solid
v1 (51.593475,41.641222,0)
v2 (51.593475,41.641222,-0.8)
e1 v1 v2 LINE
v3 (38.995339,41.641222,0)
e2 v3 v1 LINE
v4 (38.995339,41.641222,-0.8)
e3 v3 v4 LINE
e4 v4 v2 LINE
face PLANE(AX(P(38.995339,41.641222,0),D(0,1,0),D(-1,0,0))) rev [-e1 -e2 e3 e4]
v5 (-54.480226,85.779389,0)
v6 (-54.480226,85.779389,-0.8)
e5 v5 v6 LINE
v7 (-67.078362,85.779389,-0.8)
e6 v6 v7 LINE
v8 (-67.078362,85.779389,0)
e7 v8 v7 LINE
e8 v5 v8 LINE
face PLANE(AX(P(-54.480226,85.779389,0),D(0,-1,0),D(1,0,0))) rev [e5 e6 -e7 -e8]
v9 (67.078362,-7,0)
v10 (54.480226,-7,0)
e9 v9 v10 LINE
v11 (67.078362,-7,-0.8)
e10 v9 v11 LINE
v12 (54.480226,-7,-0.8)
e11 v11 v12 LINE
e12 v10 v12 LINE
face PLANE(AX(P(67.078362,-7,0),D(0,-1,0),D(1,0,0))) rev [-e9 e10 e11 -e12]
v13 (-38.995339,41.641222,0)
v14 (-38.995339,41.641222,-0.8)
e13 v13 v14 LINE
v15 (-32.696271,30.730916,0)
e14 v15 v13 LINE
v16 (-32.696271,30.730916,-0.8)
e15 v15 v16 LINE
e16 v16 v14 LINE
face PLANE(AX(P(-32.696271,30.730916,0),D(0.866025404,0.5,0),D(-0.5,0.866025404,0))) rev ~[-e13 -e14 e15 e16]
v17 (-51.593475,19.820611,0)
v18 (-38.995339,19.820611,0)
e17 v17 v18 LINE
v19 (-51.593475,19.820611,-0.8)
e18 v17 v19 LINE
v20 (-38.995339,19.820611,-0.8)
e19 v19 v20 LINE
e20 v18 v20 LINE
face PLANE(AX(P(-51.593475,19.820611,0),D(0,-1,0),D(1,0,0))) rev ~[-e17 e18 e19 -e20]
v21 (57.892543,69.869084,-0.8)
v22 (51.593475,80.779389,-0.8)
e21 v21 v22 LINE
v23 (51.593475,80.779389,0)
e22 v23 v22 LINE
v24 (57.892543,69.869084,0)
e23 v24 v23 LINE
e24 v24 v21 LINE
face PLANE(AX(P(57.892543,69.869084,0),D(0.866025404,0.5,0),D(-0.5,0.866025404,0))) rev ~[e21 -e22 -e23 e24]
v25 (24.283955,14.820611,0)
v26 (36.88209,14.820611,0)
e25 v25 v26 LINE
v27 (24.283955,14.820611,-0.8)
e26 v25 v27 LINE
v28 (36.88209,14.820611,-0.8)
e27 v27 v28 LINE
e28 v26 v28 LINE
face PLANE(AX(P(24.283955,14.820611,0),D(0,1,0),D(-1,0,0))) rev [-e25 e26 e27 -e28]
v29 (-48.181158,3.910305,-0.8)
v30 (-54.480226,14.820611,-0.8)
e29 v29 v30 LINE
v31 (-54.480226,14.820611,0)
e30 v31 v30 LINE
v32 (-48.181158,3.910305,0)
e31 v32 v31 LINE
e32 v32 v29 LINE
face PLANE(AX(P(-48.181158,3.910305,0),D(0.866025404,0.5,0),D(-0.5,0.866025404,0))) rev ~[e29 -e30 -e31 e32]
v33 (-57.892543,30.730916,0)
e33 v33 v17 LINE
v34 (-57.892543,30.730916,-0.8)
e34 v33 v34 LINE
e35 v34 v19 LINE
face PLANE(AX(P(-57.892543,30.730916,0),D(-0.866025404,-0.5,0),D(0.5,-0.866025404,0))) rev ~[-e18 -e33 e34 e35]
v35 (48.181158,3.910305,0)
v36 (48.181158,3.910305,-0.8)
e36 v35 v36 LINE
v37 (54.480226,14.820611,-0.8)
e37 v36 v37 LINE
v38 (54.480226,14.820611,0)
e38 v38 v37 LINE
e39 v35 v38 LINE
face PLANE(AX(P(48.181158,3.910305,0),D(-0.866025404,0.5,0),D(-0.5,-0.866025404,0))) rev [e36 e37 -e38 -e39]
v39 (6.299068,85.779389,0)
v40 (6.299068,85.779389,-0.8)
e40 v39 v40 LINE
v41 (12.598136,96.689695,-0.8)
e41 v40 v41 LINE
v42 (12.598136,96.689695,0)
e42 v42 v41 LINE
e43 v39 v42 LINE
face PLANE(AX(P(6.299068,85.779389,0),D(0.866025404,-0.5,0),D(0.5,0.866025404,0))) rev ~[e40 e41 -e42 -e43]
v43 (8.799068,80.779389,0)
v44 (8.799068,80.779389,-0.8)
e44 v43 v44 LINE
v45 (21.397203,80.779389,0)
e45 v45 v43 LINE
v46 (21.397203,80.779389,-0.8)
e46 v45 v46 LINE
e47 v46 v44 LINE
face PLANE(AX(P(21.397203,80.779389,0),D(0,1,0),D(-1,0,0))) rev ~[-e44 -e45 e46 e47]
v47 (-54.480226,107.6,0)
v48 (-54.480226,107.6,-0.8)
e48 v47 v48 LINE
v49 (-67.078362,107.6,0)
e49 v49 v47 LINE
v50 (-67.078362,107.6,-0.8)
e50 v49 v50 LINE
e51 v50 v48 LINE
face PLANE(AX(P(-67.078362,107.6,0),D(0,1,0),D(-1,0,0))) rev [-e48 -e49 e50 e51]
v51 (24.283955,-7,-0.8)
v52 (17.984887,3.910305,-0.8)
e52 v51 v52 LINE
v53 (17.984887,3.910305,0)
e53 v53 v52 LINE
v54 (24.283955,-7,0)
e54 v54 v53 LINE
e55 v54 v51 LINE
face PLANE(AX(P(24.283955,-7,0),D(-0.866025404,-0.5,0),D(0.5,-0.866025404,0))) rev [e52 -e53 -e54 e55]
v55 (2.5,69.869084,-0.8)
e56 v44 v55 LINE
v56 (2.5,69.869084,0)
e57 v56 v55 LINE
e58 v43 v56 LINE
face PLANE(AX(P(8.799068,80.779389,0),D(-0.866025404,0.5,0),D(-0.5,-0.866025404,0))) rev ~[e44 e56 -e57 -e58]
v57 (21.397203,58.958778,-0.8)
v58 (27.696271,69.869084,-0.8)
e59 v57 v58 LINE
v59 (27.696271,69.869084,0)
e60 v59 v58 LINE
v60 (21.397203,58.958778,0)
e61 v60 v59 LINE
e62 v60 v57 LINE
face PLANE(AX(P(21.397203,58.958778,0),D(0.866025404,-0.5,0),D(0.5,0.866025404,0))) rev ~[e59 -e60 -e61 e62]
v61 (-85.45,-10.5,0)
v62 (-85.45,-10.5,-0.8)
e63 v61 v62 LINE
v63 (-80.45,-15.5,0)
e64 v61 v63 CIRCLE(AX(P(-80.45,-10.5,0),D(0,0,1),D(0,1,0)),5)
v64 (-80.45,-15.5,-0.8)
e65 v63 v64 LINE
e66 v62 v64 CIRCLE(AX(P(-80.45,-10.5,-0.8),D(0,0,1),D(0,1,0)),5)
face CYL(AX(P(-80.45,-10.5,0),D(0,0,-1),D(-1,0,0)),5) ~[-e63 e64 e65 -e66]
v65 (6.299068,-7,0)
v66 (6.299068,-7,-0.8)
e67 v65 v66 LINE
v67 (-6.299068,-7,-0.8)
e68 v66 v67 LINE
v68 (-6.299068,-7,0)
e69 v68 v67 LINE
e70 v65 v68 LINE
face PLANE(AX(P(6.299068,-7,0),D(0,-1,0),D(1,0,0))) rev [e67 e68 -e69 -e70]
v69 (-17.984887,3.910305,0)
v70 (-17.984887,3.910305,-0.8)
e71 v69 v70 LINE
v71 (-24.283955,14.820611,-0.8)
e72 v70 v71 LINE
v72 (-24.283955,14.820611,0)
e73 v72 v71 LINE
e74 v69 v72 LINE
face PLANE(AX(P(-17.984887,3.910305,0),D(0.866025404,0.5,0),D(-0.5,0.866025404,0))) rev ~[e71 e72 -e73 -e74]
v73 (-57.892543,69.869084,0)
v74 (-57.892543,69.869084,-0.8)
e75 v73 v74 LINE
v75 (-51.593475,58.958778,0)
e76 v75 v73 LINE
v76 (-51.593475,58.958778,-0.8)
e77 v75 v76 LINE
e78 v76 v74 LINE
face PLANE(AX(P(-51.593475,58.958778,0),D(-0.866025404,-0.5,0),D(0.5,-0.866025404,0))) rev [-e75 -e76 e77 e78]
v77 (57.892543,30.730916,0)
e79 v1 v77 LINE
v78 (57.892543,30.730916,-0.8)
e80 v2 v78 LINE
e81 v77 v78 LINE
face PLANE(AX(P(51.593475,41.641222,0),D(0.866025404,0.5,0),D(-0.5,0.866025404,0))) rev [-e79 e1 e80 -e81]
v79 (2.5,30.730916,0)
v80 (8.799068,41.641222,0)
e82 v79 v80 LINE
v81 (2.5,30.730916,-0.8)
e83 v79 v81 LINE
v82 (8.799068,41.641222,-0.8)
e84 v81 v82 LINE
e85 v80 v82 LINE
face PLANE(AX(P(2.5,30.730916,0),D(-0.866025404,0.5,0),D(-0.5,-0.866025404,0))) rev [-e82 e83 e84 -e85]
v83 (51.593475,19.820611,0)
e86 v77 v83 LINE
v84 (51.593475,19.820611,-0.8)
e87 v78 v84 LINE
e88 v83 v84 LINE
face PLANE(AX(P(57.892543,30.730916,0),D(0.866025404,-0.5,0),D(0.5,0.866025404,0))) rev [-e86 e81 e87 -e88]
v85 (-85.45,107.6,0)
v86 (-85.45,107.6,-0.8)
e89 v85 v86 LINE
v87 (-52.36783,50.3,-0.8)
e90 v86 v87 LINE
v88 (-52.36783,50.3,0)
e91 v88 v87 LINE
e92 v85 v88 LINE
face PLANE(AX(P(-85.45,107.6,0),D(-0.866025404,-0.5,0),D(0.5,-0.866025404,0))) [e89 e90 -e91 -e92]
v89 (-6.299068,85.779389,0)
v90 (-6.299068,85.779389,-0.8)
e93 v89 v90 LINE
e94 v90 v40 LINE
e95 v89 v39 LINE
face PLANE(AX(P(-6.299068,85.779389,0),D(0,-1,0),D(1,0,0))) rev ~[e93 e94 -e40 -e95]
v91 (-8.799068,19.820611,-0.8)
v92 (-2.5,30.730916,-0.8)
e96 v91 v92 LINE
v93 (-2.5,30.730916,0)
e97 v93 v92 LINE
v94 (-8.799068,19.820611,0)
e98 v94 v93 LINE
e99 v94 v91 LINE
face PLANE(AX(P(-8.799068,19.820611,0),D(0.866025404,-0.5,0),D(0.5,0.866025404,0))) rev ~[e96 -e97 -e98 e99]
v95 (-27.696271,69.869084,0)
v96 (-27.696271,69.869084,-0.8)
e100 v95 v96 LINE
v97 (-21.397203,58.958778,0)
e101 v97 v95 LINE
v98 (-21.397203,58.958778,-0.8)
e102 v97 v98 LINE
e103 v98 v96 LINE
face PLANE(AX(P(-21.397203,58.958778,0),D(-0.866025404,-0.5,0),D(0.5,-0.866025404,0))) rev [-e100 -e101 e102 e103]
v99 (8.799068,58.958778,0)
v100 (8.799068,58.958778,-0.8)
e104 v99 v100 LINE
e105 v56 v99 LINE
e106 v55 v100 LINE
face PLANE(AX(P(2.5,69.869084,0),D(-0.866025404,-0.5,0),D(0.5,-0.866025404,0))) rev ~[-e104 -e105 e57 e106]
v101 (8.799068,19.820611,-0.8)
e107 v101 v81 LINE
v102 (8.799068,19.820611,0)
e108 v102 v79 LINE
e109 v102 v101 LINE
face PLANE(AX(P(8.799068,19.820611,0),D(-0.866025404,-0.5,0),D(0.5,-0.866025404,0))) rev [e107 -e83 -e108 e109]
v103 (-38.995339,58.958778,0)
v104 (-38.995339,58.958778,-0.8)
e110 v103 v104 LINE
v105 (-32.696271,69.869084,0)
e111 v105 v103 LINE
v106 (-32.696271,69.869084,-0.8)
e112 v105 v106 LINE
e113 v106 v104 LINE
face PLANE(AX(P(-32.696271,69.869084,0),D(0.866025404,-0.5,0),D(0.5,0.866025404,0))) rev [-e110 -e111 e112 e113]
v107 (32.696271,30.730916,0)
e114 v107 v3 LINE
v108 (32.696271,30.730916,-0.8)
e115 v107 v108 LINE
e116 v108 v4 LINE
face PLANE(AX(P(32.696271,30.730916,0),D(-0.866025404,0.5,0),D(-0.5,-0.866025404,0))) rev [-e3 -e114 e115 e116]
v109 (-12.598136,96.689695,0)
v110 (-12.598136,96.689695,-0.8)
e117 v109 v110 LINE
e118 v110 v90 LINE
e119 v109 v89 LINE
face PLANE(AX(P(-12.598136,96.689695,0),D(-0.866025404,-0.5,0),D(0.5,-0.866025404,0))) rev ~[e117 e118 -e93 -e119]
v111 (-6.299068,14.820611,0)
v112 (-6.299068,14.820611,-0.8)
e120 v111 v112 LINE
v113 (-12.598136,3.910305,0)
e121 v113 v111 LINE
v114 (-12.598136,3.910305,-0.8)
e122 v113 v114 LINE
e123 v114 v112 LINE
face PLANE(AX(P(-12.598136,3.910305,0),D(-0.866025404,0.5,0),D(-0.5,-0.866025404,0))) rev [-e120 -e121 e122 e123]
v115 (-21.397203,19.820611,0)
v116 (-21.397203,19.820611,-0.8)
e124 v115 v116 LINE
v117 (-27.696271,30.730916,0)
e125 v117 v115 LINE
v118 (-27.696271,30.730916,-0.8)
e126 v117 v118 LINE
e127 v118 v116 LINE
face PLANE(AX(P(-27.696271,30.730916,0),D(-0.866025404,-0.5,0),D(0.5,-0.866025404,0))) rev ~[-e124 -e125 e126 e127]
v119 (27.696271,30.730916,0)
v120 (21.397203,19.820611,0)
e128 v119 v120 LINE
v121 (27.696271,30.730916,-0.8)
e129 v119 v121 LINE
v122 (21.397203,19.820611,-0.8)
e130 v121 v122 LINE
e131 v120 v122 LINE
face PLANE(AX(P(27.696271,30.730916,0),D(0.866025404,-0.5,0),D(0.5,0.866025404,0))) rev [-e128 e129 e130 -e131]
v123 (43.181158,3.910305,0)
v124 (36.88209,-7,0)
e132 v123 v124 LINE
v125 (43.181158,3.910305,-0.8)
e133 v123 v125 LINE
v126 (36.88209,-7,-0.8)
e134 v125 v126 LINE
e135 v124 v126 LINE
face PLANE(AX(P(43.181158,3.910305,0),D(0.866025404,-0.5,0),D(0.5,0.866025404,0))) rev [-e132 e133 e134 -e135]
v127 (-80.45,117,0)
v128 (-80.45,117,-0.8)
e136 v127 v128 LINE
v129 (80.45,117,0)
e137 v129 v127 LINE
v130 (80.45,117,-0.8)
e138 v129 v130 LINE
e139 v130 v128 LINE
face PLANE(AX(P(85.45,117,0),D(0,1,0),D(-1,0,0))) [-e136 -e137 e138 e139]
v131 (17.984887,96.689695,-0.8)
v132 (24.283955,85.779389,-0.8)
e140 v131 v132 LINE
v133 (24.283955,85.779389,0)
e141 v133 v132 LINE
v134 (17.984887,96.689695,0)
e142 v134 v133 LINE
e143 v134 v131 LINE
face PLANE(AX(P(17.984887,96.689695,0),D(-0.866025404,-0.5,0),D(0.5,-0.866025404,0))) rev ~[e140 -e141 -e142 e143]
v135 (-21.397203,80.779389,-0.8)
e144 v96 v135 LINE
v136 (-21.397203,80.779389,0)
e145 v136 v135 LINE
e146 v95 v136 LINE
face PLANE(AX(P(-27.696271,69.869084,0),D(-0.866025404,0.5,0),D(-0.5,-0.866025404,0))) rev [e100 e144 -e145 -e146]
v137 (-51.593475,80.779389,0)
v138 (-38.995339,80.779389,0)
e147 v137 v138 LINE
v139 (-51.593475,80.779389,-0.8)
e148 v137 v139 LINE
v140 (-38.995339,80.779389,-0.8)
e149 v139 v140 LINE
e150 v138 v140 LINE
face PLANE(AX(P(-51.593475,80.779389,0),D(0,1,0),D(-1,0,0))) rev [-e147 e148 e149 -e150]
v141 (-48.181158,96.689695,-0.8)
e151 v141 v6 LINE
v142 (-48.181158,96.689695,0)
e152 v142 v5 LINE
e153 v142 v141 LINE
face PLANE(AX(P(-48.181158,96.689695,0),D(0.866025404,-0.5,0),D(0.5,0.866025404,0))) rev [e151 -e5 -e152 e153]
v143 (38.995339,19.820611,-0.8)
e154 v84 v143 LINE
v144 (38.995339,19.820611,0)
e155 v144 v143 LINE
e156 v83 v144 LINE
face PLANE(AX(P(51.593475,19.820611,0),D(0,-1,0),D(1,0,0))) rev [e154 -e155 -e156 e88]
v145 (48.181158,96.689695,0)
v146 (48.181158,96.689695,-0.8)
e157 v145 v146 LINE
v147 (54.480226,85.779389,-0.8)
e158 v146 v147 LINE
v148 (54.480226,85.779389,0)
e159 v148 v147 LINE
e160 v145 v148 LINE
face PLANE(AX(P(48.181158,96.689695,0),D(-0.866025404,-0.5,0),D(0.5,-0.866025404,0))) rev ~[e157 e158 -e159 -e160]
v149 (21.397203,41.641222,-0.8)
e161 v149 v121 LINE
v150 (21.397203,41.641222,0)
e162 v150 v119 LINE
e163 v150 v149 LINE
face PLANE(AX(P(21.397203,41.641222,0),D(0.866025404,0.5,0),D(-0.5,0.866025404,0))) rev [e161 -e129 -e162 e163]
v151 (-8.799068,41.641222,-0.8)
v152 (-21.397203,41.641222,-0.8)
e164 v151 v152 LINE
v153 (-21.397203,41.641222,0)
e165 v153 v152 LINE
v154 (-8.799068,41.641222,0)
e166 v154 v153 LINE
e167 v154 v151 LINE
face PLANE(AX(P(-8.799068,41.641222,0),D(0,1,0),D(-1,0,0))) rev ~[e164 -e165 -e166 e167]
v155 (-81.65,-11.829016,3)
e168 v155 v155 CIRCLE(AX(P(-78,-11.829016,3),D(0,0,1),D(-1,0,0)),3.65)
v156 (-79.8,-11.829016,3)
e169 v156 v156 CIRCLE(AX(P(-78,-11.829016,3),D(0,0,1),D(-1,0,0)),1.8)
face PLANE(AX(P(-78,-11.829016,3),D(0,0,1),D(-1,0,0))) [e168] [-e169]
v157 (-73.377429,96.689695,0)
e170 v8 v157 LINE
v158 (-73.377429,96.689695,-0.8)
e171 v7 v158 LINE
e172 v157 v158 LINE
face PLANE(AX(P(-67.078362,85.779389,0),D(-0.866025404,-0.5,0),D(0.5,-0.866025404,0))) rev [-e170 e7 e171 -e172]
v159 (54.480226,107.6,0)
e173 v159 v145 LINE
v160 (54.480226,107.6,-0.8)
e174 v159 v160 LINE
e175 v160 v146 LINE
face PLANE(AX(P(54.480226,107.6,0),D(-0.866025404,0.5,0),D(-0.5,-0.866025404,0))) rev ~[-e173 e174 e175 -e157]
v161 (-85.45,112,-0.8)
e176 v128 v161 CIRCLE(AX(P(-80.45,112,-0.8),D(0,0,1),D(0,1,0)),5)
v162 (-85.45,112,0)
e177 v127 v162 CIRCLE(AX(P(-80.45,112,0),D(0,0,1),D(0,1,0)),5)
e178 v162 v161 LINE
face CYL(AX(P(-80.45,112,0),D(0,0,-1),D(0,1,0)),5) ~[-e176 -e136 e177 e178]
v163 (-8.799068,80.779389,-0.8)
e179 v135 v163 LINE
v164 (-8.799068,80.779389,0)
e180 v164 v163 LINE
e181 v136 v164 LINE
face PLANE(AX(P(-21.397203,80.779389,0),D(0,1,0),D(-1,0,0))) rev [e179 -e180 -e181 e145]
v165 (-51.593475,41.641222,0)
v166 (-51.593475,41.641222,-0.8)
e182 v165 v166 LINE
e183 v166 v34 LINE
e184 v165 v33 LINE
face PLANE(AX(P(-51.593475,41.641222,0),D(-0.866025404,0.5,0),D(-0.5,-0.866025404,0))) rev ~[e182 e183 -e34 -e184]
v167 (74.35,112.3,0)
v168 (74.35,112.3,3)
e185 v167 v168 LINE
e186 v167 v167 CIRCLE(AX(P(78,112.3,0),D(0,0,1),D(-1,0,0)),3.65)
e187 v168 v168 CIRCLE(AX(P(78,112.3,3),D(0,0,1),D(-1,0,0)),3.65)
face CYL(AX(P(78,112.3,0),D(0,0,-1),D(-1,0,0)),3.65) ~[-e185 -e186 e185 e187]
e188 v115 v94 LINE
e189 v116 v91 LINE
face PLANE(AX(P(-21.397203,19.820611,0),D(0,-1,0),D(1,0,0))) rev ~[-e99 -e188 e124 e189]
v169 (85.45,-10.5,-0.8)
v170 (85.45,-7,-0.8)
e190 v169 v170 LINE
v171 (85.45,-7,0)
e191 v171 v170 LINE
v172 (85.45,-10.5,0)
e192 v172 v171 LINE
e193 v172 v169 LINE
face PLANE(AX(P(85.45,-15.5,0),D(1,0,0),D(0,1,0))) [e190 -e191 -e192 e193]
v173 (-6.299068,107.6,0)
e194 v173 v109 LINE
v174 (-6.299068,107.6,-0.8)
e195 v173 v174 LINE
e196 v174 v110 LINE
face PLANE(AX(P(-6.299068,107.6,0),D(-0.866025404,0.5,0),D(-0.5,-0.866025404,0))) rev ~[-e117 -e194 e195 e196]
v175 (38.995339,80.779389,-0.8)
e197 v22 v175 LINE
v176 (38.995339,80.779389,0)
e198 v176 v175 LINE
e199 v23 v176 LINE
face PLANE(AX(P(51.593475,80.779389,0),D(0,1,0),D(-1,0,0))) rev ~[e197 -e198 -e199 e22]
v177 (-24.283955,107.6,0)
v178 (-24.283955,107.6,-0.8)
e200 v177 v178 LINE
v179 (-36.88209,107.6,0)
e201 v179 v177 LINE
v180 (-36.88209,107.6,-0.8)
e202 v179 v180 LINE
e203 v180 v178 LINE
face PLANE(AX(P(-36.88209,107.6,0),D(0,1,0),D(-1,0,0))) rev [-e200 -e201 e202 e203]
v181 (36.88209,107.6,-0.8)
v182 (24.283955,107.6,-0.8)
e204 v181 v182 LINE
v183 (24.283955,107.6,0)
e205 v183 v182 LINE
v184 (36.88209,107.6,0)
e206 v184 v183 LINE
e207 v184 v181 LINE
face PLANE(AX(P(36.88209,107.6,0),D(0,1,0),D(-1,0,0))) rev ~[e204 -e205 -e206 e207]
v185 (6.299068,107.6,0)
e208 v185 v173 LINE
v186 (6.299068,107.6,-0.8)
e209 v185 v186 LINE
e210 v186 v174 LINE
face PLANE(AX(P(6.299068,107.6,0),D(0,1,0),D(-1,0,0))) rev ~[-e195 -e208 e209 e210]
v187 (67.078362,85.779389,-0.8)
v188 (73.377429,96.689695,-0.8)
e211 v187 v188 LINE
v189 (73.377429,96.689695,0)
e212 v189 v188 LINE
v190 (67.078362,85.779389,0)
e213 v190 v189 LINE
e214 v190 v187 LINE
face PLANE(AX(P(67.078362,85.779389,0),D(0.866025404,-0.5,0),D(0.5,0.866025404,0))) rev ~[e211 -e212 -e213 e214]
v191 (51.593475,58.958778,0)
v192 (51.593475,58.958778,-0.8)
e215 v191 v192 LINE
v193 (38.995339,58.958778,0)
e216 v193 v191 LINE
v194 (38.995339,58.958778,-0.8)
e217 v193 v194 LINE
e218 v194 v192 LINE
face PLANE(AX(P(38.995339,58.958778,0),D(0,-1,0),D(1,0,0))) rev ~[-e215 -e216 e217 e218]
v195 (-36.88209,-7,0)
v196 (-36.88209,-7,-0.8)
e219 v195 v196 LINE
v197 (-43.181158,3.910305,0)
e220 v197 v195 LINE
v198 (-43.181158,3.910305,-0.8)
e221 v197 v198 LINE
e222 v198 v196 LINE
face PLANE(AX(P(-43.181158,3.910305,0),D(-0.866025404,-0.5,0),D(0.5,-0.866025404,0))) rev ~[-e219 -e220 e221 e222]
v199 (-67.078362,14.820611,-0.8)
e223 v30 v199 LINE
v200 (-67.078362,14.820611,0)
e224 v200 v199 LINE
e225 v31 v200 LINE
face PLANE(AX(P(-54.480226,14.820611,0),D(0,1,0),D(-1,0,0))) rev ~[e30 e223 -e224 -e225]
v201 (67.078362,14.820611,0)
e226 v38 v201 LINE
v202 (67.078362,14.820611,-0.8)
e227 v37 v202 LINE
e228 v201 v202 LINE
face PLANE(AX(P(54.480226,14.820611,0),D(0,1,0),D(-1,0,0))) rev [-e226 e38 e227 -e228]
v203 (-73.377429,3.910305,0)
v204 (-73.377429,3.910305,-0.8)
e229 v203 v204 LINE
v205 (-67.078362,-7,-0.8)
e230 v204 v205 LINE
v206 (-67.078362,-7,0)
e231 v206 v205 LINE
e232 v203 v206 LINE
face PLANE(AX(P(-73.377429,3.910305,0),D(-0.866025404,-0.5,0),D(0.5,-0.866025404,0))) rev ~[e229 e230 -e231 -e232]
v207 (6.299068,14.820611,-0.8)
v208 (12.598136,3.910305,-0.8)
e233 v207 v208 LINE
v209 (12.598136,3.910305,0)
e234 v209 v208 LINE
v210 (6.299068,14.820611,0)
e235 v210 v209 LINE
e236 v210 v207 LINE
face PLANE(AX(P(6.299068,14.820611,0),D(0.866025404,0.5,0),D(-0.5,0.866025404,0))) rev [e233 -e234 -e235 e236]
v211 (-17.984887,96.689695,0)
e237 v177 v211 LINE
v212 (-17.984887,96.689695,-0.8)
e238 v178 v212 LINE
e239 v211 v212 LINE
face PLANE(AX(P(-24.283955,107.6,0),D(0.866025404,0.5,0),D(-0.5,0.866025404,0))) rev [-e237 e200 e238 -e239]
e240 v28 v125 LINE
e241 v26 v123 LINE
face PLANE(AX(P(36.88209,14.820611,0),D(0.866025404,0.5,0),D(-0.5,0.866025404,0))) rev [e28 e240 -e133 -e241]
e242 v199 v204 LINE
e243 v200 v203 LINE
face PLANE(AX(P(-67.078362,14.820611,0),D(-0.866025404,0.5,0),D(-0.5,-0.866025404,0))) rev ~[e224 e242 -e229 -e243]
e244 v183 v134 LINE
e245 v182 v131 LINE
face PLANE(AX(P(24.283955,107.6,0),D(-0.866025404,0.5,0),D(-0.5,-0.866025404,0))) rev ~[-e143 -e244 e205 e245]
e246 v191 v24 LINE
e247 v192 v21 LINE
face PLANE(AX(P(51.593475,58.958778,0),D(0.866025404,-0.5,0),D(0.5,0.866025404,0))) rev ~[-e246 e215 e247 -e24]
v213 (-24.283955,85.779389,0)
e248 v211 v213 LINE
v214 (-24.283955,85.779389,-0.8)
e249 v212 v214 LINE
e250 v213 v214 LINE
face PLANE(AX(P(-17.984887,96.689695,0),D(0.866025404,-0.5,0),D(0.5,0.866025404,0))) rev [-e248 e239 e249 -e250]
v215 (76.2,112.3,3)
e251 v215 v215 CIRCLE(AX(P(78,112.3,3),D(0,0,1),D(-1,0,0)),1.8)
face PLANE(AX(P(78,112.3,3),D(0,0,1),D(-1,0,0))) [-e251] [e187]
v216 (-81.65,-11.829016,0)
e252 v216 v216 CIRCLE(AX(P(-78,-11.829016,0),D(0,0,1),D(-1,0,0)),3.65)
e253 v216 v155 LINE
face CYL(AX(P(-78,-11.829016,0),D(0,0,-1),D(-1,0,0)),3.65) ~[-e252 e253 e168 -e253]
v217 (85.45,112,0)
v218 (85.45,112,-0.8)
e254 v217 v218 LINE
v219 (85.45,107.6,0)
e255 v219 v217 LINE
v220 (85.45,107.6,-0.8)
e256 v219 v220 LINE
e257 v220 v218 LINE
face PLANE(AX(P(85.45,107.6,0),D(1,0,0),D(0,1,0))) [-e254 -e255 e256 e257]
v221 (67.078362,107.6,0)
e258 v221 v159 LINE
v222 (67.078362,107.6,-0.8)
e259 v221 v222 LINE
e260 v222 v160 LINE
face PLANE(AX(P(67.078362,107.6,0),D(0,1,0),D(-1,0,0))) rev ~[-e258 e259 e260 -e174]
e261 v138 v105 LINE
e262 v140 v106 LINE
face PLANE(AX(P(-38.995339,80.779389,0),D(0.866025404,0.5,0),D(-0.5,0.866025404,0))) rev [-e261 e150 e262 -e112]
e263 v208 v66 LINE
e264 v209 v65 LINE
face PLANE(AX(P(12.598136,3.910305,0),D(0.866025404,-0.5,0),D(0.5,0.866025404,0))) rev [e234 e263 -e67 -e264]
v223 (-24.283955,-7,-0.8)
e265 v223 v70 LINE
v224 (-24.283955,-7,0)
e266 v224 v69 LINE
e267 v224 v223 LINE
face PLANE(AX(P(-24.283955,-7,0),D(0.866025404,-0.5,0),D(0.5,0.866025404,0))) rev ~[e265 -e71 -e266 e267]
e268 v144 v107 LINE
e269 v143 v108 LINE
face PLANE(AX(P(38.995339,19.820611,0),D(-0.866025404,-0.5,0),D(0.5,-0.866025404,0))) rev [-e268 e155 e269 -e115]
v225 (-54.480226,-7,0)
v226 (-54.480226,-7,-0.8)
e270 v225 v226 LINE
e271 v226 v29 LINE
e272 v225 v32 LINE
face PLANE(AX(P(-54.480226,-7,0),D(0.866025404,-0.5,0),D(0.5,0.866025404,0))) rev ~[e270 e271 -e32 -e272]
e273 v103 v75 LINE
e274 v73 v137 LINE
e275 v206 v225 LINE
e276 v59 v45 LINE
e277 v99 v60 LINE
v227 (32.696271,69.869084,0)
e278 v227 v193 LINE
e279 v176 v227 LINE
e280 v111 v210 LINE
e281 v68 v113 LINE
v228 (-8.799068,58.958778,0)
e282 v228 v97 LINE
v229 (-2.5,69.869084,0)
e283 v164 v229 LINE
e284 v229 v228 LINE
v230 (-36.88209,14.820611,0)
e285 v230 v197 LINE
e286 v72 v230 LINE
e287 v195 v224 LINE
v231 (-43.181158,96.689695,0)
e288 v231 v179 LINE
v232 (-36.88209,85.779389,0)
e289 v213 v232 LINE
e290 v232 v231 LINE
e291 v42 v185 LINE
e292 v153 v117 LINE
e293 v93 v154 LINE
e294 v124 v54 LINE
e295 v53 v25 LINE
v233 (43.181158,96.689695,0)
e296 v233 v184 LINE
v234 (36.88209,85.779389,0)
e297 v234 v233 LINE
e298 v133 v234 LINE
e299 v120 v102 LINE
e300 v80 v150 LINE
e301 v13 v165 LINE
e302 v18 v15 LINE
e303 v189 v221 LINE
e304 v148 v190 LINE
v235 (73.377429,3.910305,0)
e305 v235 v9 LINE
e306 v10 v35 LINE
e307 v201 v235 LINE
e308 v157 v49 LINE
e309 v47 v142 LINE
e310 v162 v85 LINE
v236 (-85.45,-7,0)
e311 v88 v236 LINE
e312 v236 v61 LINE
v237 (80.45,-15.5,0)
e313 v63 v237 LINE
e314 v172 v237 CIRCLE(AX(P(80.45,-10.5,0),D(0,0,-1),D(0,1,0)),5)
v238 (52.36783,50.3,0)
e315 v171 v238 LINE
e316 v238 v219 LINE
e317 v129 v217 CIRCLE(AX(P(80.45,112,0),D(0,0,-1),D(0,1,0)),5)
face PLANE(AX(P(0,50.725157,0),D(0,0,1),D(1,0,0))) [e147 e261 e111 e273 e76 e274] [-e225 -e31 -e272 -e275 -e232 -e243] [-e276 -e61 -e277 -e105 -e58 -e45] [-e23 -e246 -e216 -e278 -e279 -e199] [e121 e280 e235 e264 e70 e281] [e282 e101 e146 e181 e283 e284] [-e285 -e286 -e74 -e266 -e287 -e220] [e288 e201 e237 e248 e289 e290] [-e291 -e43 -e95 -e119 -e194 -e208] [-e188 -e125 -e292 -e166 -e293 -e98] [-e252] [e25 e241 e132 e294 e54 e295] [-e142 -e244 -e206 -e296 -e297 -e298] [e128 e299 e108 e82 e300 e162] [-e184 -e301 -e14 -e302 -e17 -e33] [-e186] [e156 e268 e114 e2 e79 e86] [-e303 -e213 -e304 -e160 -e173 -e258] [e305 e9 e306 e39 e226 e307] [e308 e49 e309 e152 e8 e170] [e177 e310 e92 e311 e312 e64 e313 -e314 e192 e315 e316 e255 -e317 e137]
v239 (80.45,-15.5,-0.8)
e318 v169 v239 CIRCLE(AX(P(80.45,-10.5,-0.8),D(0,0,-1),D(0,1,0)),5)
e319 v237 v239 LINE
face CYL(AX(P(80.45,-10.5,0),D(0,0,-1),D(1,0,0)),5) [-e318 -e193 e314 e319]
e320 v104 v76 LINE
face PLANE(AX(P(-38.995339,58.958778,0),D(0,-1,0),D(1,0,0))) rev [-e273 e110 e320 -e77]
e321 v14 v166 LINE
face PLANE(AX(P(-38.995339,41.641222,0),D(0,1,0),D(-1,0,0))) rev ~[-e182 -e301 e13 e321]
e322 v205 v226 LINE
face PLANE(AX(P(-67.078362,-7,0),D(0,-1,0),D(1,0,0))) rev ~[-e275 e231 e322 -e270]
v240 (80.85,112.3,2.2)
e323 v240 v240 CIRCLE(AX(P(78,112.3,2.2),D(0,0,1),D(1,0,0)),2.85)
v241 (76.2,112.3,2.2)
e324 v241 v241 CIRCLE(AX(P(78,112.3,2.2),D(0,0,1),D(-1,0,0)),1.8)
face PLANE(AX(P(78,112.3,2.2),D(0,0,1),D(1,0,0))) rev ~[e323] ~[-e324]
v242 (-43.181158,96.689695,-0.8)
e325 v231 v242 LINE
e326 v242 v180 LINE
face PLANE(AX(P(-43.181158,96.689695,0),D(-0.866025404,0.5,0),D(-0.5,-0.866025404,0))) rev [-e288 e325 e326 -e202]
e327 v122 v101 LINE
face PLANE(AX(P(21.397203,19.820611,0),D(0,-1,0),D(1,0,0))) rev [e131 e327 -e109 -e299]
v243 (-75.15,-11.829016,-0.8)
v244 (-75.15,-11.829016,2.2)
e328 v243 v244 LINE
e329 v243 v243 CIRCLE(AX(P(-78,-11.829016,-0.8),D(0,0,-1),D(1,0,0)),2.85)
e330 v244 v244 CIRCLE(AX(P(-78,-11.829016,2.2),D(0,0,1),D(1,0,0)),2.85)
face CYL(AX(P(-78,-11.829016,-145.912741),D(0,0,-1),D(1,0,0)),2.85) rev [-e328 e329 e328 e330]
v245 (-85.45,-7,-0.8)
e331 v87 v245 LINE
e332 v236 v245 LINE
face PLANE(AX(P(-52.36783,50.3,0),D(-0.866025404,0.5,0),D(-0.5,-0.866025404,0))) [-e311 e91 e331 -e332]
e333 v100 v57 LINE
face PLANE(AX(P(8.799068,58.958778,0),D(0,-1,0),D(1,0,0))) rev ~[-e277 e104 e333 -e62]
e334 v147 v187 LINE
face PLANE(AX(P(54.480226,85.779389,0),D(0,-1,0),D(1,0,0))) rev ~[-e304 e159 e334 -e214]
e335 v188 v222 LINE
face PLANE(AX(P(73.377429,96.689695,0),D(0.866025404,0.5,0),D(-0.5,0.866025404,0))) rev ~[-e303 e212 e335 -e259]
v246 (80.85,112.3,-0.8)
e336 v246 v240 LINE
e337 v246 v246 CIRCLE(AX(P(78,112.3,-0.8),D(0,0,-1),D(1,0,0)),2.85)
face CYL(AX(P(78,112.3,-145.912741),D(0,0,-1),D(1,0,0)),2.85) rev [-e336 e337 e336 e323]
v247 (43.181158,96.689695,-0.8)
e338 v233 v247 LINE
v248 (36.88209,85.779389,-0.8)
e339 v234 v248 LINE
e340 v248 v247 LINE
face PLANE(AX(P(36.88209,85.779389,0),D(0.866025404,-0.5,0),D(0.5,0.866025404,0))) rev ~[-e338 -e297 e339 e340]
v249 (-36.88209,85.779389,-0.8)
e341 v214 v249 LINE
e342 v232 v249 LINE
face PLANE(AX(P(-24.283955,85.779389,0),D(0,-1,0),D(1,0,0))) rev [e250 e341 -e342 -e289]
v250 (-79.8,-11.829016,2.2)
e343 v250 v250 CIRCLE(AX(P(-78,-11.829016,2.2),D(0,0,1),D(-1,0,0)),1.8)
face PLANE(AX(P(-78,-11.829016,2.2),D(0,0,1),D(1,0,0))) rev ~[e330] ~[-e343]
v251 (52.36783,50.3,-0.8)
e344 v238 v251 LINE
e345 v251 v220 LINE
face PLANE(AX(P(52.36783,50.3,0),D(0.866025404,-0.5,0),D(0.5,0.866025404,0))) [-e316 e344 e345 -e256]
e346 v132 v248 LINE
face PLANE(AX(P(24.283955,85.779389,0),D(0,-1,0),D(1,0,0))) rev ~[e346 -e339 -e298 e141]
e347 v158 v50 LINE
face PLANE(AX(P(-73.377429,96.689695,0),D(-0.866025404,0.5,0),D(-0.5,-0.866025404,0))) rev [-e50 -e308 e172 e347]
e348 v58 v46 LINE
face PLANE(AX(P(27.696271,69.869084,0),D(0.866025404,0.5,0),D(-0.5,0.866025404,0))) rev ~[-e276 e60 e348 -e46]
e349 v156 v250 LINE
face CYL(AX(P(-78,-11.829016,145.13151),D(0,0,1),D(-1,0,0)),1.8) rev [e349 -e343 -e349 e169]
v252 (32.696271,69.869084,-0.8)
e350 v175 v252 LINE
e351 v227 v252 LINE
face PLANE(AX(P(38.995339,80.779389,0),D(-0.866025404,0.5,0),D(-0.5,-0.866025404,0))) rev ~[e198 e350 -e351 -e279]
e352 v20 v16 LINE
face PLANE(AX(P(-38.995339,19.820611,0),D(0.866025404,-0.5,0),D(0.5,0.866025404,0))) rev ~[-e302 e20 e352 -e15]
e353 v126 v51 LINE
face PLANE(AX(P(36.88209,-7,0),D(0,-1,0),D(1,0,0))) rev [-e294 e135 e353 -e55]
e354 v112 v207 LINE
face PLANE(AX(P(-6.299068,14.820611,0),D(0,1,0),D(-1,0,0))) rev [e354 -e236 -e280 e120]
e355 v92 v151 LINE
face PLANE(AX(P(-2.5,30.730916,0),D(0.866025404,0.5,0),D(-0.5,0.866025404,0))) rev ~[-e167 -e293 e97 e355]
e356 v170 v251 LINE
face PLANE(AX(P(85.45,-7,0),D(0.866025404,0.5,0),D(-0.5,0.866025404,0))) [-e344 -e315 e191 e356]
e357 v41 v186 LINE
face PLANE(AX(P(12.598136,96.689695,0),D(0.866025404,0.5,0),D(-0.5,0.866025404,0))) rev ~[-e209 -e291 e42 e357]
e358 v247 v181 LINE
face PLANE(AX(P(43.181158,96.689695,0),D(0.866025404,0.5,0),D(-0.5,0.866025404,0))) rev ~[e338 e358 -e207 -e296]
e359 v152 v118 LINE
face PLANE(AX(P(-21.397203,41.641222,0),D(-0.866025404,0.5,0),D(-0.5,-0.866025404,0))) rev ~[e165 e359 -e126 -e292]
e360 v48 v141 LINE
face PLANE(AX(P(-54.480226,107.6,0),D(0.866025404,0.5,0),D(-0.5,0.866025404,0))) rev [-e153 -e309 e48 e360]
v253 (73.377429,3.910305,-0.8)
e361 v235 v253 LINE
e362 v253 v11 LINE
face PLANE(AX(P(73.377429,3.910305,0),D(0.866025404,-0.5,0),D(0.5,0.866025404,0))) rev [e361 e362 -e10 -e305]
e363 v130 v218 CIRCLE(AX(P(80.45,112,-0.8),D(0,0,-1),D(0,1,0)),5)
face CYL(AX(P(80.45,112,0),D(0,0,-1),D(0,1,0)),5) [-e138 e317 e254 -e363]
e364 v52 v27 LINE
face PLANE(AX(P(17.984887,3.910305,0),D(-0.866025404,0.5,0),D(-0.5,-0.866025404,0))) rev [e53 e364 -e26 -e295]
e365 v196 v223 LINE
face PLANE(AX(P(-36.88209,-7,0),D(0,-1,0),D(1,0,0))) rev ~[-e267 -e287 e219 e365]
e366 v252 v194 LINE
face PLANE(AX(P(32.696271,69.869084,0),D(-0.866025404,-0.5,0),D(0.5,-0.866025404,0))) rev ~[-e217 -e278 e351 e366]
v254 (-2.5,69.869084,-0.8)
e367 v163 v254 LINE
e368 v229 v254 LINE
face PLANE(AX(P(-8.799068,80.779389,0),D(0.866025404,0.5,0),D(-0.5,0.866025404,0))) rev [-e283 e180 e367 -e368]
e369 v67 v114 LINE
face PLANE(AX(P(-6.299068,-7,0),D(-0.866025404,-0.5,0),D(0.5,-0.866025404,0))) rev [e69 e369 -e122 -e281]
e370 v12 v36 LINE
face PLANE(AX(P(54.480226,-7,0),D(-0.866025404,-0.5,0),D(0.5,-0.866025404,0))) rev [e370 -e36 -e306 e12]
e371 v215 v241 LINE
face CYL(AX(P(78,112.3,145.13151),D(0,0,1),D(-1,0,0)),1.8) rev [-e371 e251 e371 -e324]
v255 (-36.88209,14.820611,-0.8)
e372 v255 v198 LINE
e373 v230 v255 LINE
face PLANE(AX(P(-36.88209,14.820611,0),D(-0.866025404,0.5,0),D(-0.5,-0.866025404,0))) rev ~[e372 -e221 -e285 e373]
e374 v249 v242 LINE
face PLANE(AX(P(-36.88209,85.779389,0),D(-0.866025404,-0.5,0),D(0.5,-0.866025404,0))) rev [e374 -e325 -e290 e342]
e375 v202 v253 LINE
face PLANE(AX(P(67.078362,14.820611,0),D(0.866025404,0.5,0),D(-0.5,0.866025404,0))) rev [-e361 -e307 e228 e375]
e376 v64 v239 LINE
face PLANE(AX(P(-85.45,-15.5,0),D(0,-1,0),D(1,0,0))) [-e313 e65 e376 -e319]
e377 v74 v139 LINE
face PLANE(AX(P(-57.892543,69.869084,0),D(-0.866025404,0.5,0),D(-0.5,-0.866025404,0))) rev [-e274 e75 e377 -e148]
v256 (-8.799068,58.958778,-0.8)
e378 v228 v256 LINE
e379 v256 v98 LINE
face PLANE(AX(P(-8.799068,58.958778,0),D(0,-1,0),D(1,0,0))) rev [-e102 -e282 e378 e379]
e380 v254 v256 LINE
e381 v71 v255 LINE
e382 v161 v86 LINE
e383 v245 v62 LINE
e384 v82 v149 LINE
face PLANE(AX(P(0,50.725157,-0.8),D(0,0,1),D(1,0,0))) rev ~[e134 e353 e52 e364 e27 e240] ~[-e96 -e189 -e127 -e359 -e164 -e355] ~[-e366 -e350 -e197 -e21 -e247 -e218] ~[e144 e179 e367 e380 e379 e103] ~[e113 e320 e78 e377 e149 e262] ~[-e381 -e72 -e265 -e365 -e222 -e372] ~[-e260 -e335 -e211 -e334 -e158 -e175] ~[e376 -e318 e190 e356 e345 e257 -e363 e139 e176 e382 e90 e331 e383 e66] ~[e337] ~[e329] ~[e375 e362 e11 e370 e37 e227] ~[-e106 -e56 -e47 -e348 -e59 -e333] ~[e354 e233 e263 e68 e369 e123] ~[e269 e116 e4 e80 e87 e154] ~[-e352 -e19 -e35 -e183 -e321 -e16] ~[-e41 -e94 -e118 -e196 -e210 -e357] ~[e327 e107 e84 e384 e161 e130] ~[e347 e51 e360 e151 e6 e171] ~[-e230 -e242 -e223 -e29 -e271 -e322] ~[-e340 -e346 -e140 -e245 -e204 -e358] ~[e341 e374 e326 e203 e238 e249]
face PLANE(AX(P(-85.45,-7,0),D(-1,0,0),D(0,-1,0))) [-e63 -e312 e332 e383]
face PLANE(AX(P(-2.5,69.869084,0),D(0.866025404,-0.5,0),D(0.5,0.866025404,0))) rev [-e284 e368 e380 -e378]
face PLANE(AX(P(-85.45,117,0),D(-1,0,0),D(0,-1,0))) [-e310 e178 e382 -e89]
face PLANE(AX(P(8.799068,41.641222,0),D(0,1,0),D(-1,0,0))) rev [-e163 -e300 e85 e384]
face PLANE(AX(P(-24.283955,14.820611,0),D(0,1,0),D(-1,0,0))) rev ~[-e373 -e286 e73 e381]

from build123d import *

# Parameters (mm, degrees)
BOSS_EXTRUDE1_DEPTH     = 0.8
CUT_EXTRUDE1_DEPTH      = 145.88389317
CUT_EXTRUDE2_DEPTH      = 145.88389317
MIRROR2_COPY_1_DEPTH    = 145.88389317
MIRROR2_COPY_2_DEPTH    = 145.88389317
FILLET1_R               = 5
SKETCH4_R               = 3.65
BOSS_EXTRUDE4_DEPTH     = 3
CUT_EXTRUDE5_DEPTH      = 145.931509686
CUT_EXTRUDE5_DEPTH_BACK = 145.931509686
SKETCH2_4_R             = 1.8
CUT_EXTRUDE6_DEPTH      = 2.2
CUT_EXTRUDE6_DEPTH_BACK = 145.912740986
SKETCH4_4_R             = 2.85


with BuildPart() as part:
    # Sketch1 → Boss-Extrude1 (new body)
    with BuildSketch(Plane.XY):
        Polygon((85.45, 117), (-85.45, 117), (-85.45, 107.6), (-52.367829575, 50.3), (-85.45, -7), (-85.45, -15.5), (85.45, -15.5), (85.45, -7), (52.367829575, 50.3), (85.45, 107.6), align=None)
    extrude(amount=-BOSS_EXTRUDE1_DEPTH)

    # Sketch1<3> → Cut-Extrude1 (cut, through all)
    with BuildSketch(Plane.XY):
        Polygon((73.377429493, 96.689694505), (67.078361679, 107.6), (54.480226049, 107.6), (48.181158234, 96.689694505), (54.480226049, 85.779389009), (67.078361679, 85.779389009), align=None)
        Polygon((51.593474703, 80.779389009), (38.995339074, 80.779389009), (32.696271259, 69.869083514), (38.995339074, 58.958778018), (51.593474703, 58.958778018), (57.892542518, 69.869083514), align=None)
        Polygon((43.181158234, 96.689694505), (36.88209042, 107.6), (24.28395479, 107.6), (17.984886975, 96.689694505), (24.28395479, 85.779389009), (36.88209042, 85.779389009), align=None)
        Polygon((21.397203444, 80.779389009), (8.799067815, 80.779389009), (2.5, 69.869083514), (8.799067815, 58.958778018), (21.397203444, 58.958778018), (27.696271259, 69.869083514), align=None)
    cut_extrude1 = extrude(amount=-CUT_EXTRUDE1_DEPTH, mode=Mode.SUBTRACT)

    # Sketch1<4> → Cut-Extrude2 (cut, through all)
    with BuildSketch(Plane.XY):
        Polygon((-6.299067815, 107.6), (-12.598135629, 96.689694505), (-6.299067815, 85.779389009), (6.299067815, 85.779389009), (12.598135629, 96.689694505), (6.299067815, 107.6), align=None)
    cut_extrude2 = extrude(amount=-CUT_EXTRUDE2_DEPTH, mode=Mode.SUBTRACT)

    # Mirror1: Cut-Extrude1 across plane
    add(cut_extrude1.mirror(Plane(origin=(0, 0, 0), x_dir=(0, 0, 1), z_dir=(1, 0, 0))), mode=Mode.SUBTRACT)

    # Mirror2: Cut-Extrude2 across plane
    add(cut_extrude2.mirror(Plane(origin=(0, 50.3, 0), x_dir=(0, 0, 1), z_dir=(0, -1, 0))), mode=Mode.SUBTRACT)

    # Mirror2 copy 1 sketch → Mirror2 copy 1 (cut, through all)
    with BuildSketch(Plane(origin=(0, 100.6, 0), x_dir=(-1, 0, 0), z_dir=(0, 0, 1))):
        Polygon((73.377429493, 96.689694505), (67.078361679, 107.6), (54.480226049, 107.6), (48.181158234, 96.689694505), (54.480226049, 85.779389009), (67.078361679, 85.779389009), align=None)
        Polygon((51.593474703, 80.779389009), (38.995339074, 80.779389009), (32.696271259, 69.869083514), (38.995339074, 58.958778018), (51.593474703, 58.958778018), (57.892542518, 69.869083514), align=None)
        Polygon((43.181158234, 96.689694505), (36.88209042, 107.6), (24.28395479, 107.6), (17.984886975, 96.689694505), (24.28395479, 85.779389009), (36.88209042, 85.779389009), align=None)
        Polygon((21.397203444, 80.779389009), (8.799067815, 80.779389009), (2.5, 69.869083514), (8.799067815, 58.958778018), (21.397203444, 58.958778018), (27.696271259, 69.869083514), align=None)
    extrude(amount=-MIRROR2_COPY_1_DEPTH, mode=Mode.SUBTRACT)

    # Mirror2 copy 2 sketch → Mirror2 copy 2 (cut, through all)
    with BuildSketch(Plane(origin=(0, 100.6, 0), x_dir=(1, 0, 0), z_dir=(0, 0, 1))):
        Polygon((73.377429493, -96.689694505), (67.078361679, -107.6), (54.480226049, -107.6), (48.181158234, -96.689694505), (54.480226049, -85.779389009), (67.078361679, -85.779389009), align=None)
        Polygon((51.593474703, -80.779389009), (38.995339074, -80.779389009), (32.696271259, -69.869083514), (38.995339074, -58.958778018), (51.593474703, -58.958778018), (57.892542518, -69.869083514), align=None)
        Polygon((43.181158234, -96.689694505), (36.88209042, -107.6), (24.28395479, -107.6), (17.984886975, -96.689694505), (24.28395479, -85.779389009), (36.88209042, -85.779389009), align=None)
        Polygon((21.397203444, -80.779389009), (8.799067815, -80.779389009), (2.5, -69.869083514), (8.799067815, -58.958778018), (21.397203444, -58.958778018), (27.696271259, -69.869083514), align=None)
    extrude(amount=-MIRROR2_COPY_2_DEPTH, mode=Mode.SUBTRACT)

    # Fillet1
    fillet1_edges = [part.edges().sort_by_distance(p)[0] for p in [
        (85.45, -15.5, -0.4),
        (-85.45, -15.5, -0.4),
        (-85.45, 117, -0.4),
        (85.45, 117, -0.4),
    ]]
    fillet(fillet1_edges, radius=FILLET1_R)

    # Sketch4 → Boss-Extrude4 (add)
    with BuildSketch(Plane.XY):
        with Locations((-78, -11.829016319)):
            Circle(SKETCH4_R)
        with Locations((78, 112.3)):
            Circle(SKETCH4_R)
    extrude(amount=BOSS_EXTRUDE4_DEPTH)

    # Sketch2<4> → Cut-Extrude5 (cut, two sides: drawn at the far end of the back side and taken through both)
    with BuildSketch(Plane(origin=(0, 0, -0.8), x_dir=(-1, 0, 0), z_dir=(0, 0, -1)).offset(-CUT_EXTRUDE5_DEPTH_BACK)):
        with Locations((-78, 112.3)):
            Circle(SKETCH2_4_R)
        with Locations((78, -11.829016319)):
            Circle(SKETCH2_4_R)
    extrude(amount=CUT_EXTRUDE5_DEPTH + CUT_EXTRUDE5_DEPTH_BACK, mode=Mode.SUBTRACT)

    # Sketch4<4> → Cut-Extrude6 (cut, two sides: drawn at the far end of the back side and taken through both)
    with BuildSketch(Plane.XY.offset(-CUT_EXTRUDE6_DEPTH_BACK)):
        with Locations((-78, -11.829016319)):
            Circle(SKETCH4_4_R)
        with Locations((78, 112.3)):
            Circle(SKETCH4_4_R)
    extrude(amount=CUT_EXTRUDE6_DEPTH + CUT_EXTRUDE6_DEPTH_BACK, mode=Mode.SUBTRACT)


solid = part.part
